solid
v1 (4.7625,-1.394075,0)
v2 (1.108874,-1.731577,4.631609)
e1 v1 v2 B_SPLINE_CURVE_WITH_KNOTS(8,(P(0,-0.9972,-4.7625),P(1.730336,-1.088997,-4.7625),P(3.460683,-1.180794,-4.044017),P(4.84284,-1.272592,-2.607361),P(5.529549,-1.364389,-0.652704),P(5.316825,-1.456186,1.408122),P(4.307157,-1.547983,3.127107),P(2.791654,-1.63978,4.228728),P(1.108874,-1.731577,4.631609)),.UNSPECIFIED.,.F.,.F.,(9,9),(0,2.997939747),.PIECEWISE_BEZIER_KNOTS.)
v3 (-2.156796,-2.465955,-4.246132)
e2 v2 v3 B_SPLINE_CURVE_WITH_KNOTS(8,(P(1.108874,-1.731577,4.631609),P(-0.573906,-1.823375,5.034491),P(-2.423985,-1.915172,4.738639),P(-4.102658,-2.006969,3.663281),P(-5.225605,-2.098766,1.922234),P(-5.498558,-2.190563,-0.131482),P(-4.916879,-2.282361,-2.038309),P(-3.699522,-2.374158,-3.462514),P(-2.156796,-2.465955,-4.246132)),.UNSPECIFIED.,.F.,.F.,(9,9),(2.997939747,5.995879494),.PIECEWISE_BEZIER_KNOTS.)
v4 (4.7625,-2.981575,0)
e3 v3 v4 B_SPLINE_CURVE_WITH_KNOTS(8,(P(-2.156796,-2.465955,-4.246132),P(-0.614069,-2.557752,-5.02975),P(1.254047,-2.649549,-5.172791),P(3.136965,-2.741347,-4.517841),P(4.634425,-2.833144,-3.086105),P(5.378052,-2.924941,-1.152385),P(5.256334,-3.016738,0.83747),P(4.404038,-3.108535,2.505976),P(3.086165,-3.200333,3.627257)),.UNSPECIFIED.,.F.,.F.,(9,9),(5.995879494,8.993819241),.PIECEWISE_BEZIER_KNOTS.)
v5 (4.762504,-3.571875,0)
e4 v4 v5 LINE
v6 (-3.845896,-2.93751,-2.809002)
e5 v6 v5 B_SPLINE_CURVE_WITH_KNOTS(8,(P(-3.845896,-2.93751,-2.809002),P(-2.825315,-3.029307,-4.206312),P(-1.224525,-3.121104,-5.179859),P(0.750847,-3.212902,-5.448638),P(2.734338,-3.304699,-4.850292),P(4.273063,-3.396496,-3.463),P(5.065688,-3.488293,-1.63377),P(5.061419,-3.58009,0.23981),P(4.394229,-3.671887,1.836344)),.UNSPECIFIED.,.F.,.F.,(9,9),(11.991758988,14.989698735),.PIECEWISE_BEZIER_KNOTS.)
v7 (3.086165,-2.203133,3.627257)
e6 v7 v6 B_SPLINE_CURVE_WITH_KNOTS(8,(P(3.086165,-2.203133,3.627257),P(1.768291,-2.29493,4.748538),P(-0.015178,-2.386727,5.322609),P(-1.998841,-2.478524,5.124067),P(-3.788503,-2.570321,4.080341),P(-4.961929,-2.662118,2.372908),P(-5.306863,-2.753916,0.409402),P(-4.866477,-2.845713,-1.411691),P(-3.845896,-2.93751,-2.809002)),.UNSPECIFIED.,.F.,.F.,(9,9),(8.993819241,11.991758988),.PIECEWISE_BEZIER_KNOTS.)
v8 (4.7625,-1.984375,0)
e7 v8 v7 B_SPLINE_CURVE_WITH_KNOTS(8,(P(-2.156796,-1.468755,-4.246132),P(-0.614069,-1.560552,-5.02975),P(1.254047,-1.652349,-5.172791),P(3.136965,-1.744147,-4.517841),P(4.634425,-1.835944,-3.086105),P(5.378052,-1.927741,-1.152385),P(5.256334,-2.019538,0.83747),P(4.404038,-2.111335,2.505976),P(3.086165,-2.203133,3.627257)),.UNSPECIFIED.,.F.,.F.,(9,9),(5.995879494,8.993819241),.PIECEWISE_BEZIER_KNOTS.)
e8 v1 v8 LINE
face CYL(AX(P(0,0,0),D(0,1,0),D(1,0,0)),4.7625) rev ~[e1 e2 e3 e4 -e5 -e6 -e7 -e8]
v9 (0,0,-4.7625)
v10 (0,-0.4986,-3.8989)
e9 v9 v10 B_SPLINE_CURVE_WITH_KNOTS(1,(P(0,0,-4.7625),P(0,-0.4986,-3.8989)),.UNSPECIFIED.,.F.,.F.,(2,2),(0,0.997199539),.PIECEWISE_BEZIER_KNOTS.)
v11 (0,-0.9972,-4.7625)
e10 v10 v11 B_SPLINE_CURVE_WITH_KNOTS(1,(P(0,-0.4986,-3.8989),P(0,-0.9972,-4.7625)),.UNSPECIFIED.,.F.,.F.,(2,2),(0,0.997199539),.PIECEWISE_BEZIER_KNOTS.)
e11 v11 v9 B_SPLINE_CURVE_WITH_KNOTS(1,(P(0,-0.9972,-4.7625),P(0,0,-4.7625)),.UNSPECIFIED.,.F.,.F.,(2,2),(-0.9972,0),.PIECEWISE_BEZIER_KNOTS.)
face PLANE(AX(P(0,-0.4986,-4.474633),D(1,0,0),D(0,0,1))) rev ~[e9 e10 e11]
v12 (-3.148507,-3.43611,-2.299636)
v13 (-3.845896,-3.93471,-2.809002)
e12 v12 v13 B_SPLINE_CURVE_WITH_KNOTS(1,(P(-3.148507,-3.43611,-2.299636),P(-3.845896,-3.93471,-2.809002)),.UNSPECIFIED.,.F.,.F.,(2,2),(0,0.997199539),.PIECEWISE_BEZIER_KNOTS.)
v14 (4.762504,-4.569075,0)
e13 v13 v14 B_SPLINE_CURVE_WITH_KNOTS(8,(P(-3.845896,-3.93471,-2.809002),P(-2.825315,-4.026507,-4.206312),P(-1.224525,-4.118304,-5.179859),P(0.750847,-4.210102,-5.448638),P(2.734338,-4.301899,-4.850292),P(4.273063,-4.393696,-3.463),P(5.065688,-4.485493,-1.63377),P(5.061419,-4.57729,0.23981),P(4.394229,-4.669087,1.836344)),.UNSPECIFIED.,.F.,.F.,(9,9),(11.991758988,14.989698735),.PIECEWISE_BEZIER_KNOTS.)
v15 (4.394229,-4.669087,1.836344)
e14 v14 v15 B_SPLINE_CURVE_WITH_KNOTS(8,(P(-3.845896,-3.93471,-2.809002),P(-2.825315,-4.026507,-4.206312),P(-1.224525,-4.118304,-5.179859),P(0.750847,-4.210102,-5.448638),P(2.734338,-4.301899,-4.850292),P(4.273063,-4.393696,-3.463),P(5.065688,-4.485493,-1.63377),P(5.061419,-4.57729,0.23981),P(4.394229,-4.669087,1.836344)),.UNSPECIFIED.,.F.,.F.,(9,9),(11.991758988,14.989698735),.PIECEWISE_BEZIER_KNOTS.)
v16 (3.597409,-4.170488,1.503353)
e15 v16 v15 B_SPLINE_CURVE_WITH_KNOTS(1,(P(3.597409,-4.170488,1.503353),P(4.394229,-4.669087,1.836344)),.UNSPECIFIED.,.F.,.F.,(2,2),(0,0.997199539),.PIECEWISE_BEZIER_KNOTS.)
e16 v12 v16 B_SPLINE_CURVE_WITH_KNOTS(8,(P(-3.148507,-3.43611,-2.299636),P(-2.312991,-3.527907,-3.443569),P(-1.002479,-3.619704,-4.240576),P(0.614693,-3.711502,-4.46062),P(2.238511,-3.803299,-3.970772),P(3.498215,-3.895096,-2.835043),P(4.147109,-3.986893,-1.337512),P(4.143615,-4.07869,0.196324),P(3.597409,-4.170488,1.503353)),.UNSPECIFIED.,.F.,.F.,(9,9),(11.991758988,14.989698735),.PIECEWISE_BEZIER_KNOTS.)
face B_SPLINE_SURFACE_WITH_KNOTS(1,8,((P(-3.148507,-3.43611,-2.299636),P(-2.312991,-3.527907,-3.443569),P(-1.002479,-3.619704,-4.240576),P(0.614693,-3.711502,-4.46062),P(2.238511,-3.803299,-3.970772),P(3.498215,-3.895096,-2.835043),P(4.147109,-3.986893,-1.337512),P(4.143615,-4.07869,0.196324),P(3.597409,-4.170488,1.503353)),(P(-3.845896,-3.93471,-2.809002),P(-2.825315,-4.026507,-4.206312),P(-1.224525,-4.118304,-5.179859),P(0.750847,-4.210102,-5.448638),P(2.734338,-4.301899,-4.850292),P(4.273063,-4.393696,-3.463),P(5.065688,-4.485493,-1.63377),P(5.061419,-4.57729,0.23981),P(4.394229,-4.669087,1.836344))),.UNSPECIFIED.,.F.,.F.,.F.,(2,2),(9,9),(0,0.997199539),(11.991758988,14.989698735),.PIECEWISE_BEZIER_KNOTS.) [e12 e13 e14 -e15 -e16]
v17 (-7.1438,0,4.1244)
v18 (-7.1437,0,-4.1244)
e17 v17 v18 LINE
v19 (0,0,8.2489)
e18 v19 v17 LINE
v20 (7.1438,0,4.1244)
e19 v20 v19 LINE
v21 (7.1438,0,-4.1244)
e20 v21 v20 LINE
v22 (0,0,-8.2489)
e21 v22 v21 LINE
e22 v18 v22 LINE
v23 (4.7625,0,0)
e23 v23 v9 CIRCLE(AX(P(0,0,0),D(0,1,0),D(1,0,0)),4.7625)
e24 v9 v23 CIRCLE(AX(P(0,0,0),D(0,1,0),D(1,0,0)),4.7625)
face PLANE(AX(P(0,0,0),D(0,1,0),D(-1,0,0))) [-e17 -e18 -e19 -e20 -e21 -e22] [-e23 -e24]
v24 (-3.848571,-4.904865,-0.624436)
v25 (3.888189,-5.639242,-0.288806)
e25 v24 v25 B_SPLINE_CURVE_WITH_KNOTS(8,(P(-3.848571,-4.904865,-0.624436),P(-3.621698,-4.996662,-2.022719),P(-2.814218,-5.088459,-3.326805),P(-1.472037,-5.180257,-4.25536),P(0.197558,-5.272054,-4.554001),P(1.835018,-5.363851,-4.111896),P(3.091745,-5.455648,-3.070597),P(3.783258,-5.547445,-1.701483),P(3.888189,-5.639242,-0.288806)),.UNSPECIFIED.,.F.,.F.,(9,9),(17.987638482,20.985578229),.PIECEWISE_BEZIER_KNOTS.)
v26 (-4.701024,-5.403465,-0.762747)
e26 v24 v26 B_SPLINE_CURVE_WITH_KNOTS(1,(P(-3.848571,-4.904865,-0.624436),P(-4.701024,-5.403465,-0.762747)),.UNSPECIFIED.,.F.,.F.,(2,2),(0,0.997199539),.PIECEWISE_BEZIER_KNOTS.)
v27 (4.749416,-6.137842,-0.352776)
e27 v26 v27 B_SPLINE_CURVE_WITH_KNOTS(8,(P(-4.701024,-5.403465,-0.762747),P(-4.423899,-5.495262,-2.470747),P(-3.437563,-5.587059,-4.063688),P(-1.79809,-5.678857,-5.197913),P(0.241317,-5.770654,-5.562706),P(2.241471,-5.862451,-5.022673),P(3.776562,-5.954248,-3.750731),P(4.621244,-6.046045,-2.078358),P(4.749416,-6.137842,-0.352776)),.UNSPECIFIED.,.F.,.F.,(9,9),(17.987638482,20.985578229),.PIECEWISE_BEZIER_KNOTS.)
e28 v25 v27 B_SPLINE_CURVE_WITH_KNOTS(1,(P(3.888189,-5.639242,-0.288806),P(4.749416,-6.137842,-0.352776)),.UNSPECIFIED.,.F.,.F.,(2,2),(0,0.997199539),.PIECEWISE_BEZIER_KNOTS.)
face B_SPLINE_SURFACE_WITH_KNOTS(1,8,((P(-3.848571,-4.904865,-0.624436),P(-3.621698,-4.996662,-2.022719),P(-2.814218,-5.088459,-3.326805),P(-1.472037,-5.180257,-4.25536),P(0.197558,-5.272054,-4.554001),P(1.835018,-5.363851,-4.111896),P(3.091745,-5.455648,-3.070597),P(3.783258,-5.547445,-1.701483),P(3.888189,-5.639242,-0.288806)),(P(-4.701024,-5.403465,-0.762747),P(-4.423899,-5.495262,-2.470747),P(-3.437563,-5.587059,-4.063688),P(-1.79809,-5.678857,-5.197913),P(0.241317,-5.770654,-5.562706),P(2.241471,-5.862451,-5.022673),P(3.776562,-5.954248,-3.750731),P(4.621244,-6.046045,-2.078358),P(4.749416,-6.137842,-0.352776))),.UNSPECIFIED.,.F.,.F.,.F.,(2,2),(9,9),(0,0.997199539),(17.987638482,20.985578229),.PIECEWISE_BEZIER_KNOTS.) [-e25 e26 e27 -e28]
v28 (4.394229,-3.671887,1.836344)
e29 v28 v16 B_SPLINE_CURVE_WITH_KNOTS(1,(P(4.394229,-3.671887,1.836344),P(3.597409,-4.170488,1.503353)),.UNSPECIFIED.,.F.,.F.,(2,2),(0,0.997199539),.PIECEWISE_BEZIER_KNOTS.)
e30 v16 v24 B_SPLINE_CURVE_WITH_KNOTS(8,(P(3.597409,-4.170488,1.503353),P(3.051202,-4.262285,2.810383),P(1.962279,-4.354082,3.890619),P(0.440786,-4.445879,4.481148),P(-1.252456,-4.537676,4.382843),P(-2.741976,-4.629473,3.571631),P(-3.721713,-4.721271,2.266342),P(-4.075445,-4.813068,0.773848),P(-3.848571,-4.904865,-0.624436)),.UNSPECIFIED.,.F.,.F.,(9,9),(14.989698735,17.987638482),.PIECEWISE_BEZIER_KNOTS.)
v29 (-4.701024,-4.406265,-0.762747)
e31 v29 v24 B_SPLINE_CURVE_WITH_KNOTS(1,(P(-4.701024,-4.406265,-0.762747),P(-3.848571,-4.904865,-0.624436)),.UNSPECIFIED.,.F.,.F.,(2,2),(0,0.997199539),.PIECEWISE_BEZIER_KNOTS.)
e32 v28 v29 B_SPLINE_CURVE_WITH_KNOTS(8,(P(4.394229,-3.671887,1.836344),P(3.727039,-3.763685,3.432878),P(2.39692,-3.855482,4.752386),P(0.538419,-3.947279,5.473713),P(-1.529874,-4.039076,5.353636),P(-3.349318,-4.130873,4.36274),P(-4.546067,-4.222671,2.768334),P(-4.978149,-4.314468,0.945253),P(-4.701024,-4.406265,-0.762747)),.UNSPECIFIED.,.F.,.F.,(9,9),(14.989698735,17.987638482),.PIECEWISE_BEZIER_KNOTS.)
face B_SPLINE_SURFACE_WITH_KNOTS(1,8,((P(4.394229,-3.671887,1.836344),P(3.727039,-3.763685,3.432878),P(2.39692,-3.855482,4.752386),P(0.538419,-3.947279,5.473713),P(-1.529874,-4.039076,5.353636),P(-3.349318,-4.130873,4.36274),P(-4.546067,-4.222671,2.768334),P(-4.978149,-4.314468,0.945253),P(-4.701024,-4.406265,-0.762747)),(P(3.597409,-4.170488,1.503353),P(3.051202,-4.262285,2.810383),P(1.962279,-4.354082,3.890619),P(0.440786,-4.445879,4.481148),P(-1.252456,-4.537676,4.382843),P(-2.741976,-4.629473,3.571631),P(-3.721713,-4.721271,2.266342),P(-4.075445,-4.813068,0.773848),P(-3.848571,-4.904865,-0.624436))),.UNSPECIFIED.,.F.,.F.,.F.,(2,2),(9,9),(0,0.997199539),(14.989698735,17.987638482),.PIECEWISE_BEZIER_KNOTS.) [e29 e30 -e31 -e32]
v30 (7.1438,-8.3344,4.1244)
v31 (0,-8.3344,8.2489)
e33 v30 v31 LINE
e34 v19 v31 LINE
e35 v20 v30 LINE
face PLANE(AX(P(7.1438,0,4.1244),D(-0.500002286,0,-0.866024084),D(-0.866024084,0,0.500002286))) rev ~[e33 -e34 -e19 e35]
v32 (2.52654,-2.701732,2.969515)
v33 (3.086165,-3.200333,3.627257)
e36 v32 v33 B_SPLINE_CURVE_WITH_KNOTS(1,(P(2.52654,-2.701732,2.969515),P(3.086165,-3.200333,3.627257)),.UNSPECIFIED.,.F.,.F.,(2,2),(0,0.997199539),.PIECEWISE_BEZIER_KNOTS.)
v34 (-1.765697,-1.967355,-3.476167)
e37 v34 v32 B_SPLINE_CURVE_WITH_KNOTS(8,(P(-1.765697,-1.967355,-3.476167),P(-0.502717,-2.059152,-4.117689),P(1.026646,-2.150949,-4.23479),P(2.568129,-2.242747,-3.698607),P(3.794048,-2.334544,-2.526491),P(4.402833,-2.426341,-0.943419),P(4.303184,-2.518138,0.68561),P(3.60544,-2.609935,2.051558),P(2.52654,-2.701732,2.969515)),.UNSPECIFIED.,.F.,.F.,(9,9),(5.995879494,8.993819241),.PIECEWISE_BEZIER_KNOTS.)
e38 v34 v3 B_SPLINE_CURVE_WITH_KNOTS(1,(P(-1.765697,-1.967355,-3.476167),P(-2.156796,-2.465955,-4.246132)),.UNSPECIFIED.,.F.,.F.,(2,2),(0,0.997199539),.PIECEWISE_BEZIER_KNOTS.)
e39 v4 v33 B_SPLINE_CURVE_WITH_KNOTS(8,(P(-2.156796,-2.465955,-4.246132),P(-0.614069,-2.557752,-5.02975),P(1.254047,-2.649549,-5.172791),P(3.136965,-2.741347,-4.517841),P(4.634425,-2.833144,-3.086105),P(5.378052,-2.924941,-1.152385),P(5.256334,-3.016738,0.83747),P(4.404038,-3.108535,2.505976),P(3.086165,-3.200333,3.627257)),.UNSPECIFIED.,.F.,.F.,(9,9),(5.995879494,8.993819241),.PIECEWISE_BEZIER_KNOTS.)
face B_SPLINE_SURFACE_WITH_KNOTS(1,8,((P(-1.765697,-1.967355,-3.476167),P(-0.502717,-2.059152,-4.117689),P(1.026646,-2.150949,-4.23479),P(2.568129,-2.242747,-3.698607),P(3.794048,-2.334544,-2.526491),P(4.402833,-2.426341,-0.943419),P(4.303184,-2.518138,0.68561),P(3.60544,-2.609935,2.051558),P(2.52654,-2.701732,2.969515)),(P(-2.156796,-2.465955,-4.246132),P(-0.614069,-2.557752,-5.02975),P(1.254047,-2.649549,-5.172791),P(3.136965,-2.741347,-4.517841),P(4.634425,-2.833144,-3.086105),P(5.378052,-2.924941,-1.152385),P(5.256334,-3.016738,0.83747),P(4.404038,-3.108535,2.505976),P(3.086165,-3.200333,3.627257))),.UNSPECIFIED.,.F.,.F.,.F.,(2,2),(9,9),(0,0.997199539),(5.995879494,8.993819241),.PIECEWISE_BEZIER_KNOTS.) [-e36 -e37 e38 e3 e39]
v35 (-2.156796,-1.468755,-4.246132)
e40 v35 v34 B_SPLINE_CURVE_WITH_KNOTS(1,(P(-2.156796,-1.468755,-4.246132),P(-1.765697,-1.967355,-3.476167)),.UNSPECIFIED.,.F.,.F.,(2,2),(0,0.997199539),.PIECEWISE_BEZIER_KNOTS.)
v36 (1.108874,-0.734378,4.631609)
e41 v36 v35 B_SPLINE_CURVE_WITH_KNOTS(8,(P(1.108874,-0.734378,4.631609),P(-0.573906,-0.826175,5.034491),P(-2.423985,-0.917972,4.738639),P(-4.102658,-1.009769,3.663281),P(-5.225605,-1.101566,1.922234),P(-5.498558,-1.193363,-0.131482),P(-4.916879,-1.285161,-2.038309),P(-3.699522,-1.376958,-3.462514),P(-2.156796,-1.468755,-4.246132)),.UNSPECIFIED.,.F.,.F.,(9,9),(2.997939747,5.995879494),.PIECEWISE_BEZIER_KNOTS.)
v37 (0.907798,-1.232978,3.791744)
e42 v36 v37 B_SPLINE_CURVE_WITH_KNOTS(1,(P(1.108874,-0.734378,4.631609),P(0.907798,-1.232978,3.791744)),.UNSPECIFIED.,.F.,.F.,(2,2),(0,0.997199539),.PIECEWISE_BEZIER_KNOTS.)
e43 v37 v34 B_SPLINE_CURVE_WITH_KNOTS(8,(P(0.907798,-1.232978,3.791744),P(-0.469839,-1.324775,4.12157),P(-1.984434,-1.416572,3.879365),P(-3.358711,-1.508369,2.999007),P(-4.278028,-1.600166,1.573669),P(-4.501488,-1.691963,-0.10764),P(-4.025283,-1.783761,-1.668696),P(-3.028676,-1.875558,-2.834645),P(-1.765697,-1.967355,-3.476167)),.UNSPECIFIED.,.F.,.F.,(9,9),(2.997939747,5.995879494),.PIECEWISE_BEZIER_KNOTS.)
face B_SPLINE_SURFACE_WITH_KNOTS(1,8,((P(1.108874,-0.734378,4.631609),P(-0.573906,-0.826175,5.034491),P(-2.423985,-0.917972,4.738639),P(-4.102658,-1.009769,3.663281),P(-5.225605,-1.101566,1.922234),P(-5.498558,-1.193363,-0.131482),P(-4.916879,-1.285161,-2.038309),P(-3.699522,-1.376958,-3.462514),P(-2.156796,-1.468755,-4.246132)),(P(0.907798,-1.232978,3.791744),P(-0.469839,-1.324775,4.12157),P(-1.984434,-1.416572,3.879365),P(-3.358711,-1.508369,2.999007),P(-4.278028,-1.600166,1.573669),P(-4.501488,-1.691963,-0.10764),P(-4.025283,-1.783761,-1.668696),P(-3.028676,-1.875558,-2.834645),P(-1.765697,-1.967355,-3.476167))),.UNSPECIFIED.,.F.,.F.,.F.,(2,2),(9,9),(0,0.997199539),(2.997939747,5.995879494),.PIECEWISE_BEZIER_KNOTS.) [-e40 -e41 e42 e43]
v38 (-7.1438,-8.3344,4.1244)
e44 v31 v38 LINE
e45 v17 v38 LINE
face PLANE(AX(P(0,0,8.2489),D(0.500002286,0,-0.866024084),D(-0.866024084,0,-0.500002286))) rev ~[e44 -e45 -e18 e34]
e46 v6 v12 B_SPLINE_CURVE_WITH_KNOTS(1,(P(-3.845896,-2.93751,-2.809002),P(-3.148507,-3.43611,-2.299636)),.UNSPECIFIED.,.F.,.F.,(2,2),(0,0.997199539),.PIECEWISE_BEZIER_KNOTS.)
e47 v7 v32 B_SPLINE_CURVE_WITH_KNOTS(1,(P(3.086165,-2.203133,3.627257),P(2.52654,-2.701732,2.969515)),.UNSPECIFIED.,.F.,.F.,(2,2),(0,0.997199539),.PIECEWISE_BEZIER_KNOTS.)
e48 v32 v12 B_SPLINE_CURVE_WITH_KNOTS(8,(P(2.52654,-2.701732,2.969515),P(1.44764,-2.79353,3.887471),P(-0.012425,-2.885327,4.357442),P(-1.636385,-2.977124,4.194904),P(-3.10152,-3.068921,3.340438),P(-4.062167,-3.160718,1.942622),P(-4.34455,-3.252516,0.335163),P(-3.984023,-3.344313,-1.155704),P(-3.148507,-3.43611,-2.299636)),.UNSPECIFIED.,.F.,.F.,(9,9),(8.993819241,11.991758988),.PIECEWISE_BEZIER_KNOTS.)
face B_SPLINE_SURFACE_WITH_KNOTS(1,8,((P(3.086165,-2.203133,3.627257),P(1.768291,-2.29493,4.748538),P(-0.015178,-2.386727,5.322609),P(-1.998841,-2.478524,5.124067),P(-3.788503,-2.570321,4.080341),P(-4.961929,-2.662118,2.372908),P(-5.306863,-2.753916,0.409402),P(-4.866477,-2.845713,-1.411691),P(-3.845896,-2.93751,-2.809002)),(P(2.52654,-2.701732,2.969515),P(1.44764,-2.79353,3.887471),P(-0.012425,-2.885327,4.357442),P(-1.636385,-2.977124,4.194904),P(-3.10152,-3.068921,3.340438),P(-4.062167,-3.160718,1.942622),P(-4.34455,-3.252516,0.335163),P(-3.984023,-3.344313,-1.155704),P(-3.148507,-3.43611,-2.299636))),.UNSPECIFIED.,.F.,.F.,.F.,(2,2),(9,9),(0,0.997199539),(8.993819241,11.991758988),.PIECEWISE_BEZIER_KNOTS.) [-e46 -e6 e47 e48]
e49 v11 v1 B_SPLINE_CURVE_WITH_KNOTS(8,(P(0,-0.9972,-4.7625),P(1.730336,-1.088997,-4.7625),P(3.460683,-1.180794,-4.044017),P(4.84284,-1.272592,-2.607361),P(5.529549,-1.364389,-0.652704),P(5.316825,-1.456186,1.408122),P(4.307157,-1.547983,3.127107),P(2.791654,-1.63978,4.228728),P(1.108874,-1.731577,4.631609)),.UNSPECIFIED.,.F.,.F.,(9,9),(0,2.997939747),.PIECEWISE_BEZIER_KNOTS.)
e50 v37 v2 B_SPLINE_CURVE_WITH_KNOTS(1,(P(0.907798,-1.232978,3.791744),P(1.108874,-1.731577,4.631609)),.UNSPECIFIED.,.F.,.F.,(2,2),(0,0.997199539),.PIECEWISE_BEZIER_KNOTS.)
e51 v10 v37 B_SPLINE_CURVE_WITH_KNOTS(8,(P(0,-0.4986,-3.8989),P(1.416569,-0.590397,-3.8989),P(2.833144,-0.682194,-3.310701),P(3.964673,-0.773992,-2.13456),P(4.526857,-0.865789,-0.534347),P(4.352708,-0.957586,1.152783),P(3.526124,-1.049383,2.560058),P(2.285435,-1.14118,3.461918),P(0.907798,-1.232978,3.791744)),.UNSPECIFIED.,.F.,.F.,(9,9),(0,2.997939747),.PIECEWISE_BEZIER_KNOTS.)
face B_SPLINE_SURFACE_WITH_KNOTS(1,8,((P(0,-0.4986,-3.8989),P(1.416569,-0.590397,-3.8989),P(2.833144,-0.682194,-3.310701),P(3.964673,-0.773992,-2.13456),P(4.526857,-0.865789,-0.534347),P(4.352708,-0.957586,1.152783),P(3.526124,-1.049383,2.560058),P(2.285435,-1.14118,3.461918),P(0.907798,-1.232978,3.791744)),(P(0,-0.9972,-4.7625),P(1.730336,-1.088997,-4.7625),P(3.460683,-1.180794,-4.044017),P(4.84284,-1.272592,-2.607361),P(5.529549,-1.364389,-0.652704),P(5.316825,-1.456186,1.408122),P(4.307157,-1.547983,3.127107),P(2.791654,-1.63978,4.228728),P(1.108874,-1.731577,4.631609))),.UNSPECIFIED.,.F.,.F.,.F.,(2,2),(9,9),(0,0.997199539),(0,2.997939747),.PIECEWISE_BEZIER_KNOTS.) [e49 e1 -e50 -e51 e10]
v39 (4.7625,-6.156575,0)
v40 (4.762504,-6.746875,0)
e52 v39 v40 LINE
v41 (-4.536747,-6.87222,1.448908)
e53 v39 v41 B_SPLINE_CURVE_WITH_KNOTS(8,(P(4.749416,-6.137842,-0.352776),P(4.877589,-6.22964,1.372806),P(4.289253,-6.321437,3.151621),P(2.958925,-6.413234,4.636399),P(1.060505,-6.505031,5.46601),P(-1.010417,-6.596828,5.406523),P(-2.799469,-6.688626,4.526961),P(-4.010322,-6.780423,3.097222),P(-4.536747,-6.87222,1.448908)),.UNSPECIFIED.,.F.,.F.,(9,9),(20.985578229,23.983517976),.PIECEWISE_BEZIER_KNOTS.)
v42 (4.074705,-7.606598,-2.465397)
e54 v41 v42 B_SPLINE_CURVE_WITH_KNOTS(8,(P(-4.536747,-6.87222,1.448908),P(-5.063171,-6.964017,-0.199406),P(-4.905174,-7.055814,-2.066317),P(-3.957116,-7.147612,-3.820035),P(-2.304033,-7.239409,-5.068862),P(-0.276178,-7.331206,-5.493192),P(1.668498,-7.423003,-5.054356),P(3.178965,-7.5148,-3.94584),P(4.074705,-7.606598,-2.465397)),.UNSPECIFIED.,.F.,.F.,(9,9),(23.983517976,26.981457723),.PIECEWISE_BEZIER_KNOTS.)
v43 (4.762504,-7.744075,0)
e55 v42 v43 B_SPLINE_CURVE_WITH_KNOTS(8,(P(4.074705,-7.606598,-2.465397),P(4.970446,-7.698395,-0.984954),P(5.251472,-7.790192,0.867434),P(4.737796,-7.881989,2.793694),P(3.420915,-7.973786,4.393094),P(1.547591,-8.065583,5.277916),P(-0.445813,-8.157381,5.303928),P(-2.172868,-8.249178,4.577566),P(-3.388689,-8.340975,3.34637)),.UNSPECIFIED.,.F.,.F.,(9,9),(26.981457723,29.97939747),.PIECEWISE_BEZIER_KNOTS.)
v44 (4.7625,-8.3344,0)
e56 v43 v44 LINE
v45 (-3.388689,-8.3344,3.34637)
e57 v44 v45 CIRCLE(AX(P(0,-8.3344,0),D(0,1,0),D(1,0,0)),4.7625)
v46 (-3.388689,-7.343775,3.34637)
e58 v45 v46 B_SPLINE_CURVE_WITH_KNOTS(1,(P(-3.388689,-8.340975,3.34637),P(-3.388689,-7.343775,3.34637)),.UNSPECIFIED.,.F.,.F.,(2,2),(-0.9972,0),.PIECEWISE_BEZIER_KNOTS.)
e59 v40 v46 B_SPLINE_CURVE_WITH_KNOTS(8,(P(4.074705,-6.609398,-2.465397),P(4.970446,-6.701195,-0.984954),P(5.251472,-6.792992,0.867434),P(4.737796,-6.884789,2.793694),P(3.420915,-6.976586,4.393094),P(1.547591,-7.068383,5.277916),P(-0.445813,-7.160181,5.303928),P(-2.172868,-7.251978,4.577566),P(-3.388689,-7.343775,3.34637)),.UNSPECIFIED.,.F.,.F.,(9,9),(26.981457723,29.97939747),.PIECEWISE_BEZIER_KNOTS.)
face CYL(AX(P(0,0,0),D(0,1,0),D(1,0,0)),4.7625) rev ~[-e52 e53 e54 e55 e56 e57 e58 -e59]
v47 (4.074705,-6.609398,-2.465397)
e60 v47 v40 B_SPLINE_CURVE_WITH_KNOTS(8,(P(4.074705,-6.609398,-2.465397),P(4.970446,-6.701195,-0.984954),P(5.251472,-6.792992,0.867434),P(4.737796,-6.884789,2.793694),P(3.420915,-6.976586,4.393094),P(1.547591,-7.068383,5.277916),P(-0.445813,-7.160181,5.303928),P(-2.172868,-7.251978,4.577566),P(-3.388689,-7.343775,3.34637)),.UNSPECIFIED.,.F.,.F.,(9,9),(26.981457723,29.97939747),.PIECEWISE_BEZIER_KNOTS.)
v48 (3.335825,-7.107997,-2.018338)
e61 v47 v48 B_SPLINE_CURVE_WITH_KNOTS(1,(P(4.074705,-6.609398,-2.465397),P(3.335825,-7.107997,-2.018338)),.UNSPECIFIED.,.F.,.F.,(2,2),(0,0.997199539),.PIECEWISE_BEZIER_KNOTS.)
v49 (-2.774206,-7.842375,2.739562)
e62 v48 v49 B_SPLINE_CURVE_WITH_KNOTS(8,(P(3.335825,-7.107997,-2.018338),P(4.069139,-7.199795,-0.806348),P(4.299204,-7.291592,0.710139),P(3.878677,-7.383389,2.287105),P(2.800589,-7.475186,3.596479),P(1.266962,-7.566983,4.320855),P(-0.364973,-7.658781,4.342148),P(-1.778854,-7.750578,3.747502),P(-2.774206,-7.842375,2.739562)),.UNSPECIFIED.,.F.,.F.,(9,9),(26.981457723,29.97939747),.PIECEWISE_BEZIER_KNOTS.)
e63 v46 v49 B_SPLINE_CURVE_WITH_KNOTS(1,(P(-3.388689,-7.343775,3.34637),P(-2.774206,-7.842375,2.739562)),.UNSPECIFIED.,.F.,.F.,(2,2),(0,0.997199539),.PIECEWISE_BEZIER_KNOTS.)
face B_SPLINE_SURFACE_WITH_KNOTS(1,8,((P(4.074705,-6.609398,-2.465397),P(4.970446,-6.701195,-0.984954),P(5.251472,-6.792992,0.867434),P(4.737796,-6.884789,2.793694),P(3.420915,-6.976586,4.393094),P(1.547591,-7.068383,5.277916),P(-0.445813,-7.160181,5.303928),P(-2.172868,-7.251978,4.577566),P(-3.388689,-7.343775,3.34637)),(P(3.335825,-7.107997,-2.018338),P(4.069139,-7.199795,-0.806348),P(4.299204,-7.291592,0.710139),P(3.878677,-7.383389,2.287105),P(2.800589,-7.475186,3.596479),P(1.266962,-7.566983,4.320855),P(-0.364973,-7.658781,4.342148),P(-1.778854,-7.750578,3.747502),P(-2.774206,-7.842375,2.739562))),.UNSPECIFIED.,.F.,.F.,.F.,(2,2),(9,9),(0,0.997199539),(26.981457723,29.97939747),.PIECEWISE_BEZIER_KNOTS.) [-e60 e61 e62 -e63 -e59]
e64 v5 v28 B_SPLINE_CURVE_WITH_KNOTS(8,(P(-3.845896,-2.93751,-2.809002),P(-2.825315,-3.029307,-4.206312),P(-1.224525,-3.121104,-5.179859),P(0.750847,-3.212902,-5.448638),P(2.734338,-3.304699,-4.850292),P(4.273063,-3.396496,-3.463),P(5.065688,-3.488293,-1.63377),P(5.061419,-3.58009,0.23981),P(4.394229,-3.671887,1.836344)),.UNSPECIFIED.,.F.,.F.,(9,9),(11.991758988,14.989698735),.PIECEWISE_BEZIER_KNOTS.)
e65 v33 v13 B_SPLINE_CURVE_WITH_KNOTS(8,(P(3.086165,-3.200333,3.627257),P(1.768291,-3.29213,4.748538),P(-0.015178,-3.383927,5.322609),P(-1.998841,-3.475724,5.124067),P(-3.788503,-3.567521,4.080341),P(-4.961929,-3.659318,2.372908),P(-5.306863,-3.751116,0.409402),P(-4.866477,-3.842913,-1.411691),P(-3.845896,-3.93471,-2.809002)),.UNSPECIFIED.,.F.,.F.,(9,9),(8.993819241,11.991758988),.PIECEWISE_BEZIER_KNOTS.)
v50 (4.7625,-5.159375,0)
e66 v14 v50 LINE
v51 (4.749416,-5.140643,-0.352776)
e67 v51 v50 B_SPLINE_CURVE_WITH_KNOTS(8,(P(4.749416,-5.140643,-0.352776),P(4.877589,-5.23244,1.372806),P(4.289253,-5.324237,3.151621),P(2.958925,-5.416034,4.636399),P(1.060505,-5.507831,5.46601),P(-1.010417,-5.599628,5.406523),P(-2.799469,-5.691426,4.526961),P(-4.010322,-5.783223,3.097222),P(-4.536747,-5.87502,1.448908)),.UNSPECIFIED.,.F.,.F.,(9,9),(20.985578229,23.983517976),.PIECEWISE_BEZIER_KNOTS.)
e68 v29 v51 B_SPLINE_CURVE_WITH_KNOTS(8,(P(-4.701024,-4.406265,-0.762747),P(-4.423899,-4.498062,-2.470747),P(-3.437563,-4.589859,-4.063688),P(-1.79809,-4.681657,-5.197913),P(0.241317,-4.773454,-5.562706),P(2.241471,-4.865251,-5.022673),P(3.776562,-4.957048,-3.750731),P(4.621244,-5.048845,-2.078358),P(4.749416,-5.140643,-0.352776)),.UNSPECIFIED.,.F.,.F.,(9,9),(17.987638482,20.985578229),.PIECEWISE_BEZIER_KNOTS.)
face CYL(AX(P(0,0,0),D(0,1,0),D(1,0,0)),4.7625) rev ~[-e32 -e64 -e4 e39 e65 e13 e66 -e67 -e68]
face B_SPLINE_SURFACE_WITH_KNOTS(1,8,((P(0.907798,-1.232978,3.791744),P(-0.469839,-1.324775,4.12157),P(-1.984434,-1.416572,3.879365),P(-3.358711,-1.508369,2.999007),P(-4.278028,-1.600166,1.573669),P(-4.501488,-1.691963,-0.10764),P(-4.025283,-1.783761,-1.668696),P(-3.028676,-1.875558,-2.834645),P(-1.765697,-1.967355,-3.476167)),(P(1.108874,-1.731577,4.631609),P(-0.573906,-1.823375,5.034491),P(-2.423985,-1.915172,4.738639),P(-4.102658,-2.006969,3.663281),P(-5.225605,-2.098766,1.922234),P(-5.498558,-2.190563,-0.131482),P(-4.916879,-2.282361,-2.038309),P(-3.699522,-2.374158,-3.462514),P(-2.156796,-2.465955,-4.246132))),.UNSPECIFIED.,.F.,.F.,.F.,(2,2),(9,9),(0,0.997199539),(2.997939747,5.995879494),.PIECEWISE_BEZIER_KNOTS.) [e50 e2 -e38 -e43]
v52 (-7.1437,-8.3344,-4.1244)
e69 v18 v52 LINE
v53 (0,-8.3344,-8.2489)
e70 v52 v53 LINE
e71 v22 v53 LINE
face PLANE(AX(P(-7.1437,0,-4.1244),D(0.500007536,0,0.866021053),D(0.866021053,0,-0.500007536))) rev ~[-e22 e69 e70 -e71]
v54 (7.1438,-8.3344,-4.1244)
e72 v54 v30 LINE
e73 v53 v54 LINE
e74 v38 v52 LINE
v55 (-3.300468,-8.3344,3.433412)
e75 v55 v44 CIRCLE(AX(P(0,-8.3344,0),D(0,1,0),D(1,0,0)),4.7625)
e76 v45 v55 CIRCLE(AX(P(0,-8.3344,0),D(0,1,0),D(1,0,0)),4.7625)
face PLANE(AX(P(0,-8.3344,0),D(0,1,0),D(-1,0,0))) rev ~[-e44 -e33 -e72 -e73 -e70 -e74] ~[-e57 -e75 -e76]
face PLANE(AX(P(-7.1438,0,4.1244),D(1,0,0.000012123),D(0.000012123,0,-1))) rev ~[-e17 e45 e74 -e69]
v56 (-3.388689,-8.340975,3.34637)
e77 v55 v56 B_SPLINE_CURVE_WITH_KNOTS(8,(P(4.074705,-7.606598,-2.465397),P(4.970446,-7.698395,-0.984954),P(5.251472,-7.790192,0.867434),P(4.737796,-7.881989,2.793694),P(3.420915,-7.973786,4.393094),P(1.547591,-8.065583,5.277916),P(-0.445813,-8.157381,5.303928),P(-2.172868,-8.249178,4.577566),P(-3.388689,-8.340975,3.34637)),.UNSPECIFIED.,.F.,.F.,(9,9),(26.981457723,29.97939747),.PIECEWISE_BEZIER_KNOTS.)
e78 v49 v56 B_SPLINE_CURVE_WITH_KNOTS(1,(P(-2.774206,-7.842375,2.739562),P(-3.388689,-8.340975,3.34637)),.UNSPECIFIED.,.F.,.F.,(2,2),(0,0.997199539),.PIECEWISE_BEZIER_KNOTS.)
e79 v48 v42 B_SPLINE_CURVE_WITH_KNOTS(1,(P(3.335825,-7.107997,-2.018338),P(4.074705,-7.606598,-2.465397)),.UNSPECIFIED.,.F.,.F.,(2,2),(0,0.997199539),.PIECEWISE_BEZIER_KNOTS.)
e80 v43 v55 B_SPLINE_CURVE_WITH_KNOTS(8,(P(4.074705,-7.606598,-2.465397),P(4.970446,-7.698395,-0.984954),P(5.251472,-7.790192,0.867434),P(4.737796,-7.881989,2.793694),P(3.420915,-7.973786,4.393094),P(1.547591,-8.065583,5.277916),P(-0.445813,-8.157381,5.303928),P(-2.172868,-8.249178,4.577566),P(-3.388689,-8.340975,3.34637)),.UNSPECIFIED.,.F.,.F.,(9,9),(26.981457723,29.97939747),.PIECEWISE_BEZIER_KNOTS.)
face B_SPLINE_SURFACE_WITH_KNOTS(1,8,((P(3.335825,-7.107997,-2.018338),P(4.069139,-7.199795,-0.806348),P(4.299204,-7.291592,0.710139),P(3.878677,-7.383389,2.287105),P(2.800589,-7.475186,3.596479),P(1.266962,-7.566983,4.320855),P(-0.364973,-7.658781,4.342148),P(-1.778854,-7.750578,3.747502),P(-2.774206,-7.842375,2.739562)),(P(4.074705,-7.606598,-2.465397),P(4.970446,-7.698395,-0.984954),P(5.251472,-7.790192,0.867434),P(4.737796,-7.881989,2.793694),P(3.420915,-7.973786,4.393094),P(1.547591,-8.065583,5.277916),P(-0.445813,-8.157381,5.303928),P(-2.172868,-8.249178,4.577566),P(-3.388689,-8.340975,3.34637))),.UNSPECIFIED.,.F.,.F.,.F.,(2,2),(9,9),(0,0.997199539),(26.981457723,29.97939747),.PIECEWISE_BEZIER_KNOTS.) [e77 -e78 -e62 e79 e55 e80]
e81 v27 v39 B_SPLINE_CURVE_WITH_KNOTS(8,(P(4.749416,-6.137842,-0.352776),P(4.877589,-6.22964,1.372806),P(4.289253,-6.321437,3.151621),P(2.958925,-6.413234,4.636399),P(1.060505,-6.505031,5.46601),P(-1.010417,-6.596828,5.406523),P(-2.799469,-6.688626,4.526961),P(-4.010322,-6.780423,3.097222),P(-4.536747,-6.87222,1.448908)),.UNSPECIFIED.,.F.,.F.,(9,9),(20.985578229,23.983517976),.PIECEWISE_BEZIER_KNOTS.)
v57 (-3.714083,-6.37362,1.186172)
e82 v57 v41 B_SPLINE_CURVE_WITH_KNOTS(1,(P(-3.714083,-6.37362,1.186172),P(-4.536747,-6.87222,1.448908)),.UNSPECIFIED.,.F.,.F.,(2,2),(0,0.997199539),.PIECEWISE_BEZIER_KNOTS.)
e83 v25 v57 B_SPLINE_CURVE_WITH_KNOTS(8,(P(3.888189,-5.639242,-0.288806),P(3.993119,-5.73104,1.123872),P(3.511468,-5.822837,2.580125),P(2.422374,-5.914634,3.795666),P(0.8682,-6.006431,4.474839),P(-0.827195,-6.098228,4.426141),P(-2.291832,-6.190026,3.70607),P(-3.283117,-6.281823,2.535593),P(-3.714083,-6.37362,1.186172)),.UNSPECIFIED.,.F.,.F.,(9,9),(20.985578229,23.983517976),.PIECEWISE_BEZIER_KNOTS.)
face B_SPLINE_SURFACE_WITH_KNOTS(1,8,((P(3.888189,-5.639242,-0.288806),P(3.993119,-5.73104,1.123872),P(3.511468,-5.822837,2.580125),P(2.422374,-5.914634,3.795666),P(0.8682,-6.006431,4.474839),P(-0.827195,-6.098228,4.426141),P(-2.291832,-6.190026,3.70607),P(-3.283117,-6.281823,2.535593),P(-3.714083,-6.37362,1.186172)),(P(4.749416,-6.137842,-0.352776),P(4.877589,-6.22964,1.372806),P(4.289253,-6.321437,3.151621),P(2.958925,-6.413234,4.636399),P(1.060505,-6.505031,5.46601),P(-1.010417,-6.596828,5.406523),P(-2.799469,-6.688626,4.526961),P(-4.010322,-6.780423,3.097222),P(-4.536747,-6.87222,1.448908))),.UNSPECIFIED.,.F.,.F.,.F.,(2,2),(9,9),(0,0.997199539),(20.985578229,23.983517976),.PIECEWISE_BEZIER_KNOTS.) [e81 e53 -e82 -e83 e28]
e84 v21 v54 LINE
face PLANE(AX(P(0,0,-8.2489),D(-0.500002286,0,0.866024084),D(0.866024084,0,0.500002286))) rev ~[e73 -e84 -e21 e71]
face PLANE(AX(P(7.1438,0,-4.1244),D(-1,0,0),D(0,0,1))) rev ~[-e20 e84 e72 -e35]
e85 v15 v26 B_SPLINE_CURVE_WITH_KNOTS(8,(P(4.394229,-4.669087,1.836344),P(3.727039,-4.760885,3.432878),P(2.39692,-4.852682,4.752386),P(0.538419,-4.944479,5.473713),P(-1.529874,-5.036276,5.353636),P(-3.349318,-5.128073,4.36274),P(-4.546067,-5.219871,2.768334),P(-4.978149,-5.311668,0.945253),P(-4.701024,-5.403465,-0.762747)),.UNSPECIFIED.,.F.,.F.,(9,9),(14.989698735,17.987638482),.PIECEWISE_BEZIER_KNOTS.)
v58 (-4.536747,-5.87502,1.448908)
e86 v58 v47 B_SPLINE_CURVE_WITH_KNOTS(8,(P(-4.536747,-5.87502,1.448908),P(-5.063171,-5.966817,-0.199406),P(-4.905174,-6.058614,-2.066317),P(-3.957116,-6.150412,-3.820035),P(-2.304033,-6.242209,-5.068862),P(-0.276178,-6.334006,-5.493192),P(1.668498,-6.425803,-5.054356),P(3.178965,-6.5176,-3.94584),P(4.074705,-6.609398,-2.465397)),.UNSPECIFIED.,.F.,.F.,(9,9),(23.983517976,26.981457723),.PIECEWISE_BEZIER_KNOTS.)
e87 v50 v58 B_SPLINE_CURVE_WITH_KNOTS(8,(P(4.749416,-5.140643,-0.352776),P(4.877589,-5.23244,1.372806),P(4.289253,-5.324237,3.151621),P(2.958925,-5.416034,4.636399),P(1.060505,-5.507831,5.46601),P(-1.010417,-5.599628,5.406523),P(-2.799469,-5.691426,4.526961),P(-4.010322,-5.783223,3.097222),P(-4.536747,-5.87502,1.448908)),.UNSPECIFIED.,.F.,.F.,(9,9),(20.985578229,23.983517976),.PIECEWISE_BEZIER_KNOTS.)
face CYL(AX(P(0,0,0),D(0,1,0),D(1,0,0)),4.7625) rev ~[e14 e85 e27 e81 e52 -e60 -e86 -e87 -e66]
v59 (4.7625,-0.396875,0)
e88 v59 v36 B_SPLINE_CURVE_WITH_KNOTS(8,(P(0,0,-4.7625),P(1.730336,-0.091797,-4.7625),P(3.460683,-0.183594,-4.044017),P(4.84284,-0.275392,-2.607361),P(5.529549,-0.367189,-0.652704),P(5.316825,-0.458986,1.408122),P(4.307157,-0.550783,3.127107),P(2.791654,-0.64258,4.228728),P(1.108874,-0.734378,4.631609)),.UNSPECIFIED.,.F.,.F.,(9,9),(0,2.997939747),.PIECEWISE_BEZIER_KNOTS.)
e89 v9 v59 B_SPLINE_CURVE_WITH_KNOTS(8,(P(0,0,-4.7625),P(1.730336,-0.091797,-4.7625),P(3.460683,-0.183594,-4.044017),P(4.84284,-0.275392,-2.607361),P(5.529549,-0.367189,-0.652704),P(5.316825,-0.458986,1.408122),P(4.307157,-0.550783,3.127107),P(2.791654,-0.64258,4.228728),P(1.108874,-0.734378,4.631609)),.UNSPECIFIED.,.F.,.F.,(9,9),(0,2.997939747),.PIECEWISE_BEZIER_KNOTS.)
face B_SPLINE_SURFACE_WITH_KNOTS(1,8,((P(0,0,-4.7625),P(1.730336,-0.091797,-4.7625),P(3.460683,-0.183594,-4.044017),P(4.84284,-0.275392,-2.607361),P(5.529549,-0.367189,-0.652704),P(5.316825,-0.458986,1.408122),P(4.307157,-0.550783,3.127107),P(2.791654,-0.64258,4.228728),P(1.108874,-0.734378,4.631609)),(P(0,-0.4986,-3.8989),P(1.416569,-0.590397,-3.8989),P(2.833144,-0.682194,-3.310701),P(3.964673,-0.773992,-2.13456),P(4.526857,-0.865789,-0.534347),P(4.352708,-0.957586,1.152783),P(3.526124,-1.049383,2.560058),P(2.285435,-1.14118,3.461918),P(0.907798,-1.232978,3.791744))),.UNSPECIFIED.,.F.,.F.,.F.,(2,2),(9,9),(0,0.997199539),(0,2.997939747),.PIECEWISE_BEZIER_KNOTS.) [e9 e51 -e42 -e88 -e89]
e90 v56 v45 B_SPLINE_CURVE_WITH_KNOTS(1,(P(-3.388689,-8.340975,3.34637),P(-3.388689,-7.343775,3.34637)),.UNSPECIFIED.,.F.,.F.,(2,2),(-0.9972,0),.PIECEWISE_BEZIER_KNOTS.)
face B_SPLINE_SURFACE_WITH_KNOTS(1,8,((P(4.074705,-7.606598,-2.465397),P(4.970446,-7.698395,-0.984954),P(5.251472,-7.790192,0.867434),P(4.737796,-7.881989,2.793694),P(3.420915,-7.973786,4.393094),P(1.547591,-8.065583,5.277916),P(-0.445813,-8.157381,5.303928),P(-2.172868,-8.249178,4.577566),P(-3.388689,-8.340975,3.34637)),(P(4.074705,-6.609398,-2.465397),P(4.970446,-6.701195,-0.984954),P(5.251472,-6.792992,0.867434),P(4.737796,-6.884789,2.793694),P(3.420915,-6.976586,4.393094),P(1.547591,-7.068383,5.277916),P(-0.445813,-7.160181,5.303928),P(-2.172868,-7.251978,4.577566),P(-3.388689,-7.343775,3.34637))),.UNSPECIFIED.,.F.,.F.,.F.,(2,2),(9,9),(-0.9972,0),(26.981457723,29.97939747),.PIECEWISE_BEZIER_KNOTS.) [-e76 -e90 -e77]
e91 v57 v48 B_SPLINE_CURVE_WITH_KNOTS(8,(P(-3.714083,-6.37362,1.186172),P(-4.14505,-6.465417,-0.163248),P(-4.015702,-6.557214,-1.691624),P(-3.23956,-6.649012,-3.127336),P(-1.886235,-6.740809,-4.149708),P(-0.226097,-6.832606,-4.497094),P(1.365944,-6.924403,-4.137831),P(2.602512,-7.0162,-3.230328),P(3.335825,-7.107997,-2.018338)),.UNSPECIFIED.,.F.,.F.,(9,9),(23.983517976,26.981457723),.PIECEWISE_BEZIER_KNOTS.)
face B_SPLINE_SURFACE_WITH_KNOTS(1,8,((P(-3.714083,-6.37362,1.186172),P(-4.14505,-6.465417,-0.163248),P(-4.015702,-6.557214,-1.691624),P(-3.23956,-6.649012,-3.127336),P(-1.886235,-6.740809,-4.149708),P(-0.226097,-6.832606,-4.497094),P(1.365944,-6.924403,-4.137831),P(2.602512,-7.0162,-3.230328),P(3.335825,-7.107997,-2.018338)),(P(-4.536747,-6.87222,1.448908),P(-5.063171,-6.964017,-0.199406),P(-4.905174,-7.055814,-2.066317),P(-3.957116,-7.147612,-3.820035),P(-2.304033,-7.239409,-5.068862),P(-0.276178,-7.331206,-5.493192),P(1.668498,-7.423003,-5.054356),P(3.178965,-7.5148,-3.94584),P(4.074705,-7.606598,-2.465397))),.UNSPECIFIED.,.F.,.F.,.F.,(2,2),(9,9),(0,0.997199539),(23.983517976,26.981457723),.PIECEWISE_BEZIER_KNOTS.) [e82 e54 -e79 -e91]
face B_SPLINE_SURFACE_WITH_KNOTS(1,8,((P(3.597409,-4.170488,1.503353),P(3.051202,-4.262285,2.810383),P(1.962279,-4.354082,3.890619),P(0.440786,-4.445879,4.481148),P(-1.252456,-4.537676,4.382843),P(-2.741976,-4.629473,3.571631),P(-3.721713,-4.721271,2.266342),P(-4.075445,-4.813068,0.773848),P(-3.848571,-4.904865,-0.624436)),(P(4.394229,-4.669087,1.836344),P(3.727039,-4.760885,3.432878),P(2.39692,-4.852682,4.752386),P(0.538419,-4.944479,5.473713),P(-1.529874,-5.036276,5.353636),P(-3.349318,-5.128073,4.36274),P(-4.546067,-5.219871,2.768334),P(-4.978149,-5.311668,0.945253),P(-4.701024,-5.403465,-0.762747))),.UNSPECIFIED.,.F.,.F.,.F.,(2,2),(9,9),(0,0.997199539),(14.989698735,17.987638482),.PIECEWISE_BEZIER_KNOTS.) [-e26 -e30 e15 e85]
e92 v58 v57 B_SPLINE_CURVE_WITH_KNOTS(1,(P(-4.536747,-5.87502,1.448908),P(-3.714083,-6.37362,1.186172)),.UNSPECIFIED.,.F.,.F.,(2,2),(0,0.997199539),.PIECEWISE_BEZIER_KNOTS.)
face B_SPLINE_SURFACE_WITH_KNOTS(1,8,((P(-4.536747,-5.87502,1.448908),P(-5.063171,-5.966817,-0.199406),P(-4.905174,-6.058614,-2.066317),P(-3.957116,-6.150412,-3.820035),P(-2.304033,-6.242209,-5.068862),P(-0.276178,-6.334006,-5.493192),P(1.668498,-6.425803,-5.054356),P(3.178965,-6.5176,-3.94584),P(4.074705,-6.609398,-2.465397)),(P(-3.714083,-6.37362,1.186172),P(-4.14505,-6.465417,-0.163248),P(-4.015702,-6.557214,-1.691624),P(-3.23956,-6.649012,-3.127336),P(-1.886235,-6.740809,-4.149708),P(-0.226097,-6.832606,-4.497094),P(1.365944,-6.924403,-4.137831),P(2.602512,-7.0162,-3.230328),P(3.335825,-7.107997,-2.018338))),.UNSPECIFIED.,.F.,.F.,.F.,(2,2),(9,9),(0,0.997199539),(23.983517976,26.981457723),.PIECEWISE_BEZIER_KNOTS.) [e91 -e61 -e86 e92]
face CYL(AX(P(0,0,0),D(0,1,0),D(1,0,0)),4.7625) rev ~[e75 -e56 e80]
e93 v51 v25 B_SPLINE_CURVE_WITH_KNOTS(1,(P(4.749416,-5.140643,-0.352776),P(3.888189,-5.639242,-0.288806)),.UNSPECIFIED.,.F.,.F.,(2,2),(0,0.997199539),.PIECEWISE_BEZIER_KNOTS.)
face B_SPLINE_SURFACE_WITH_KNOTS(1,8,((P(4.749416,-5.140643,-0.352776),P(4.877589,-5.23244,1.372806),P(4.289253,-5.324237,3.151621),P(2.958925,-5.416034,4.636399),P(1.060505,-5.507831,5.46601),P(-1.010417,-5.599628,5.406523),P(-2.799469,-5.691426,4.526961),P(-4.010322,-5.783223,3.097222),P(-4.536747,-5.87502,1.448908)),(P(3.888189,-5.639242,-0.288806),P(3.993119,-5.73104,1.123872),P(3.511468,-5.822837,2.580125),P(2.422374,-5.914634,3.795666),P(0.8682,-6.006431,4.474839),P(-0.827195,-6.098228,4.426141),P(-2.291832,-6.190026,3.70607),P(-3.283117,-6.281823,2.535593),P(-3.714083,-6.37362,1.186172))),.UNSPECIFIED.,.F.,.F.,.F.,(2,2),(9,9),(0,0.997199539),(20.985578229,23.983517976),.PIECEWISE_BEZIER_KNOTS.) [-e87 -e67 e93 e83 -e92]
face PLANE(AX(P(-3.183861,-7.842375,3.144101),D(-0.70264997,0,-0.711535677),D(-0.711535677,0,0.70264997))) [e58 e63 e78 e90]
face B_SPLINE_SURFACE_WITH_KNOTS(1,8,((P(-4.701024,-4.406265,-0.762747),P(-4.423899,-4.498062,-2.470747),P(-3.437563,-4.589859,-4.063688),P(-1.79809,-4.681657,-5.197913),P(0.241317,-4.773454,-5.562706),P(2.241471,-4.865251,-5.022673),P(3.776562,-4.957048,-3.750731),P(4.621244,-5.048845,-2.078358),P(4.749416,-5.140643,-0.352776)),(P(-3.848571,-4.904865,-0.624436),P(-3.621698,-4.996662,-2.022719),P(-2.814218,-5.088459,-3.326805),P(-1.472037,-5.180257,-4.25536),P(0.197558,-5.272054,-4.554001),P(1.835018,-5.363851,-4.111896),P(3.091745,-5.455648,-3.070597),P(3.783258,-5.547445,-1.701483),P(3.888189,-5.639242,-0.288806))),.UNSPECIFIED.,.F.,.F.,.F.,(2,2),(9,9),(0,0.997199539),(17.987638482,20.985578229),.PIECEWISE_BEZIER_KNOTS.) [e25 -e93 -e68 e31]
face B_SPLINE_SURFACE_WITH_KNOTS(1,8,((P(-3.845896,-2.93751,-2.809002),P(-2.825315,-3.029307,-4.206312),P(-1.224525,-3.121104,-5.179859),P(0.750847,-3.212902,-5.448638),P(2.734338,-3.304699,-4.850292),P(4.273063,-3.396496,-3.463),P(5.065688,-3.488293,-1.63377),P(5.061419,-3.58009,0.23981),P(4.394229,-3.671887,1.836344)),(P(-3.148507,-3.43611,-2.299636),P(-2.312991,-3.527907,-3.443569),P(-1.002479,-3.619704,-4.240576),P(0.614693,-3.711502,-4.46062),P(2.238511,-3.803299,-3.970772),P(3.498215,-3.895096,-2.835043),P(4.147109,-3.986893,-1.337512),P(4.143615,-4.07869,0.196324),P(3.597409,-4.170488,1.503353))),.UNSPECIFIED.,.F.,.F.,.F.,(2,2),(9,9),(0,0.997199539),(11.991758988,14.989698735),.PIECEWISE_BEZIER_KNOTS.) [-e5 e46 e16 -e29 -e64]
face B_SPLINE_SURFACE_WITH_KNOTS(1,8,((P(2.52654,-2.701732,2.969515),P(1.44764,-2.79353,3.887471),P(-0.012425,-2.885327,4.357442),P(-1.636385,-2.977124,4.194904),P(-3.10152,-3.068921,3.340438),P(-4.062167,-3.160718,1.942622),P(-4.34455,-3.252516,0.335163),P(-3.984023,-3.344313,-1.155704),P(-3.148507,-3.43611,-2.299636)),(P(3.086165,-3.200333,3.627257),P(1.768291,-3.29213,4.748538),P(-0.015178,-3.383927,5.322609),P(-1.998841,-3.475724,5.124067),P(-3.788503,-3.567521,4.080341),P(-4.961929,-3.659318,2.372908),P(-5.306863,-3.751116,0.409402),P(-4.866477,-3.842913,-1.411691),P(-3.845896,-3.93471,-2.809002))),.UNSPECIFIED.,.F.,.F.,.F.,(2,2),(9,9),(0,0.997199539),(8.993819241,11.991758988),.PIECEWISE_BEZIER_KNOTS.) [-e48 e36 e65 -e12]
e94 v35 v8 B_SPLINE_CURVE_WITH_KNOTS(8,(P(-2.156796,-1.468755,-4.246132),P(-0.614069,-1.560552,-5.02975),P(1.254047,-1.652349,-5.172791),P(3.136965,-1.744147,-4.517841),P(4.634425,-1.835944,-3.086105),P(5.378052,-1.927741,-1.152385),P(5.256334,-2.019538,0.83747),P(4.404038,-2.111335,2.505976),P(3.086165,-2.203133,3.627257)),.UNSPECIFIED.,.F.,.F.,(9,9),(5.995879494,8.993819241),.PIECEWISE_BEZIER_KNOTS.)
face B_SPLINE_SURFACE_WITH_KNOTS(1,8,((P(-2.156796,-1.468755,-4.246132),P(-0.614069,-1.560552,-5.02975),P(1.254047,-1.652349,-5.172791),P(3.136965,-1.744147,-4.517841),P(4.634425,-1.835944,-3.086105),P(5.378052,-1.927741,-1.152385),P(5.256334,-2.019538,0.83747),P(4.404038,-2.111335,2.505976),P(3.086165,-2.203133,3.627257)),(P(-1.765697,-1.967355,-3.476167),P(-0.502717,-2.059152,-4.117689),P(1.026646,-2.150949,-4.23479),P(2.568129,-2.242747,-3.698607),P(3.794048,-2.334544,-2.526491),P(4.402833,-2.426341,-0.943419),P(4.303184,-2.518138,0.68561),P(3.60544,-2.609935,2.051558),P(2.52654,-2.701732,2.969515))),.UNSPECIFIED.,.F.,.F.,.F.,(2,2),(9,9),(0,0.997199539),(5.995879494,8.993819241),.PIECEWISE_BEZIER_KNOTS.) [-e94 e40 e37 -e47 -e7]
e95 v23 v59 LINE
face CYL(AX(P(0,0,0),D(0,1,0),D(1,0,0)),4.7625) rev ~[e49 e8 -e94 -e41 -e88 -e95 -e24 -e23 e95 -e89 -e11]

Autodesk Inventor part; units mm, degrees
ref_plane "YZ Plane" through (0, 0, 0) normal (1, 0, 0) x (0, 1, 0)
ref_plane "XZ Plane" through (0, 0, 0) normal (0, 1, 0) x (-1, 0, 0)
ref_plane "XY Plane" through (0, 0, 0) normal (0, 0, 1) x (1, 0, 0)
sketch "Sketch1" plane through (0, 0, 0) normal (0, 1, 0) x (-1, 0, 0)
  line L0 (-7.1438, -4.1244) -> (-7.1438, 4.1244)
  line L1 (-7.1438, 4.1244) -> (0, 8.2489)
  line L2 (0, 8.2489) -> (7.1438, 4.1244)
  line L3 (7.1438, 4.1244) -> (7.1437, -4.1244)
  line L4 (7.1437, -4.1244) -> (0, -8.2489)
  line L5 (0, -8.2489) -> (-7.1438, -4.1244)
  point P0 (0, 0)
  point P1 (0, 0)
  dimension "d0" = 14.2875
extrude "Extrusion1" add sketch "Sketch1" against normal blind 8.3344
sketch "Sketch2" plane through (0, 0, 0) normal (0, 1, 0) x (1, 0, 0)
  circle A0 centre (0, 0) radius 4.7625
  dimension "d3" = 9.525
extrude "Extrusion2" cut sketch "Sketch2" against normal through all
sketch "Sketch3" plane through (0, 0, 0) normal (1, 0, 0) x (0, 1, 0)
  line L0 (0, -4.7625) -> (-8.3344, -4.7625) projected
  line L1 (0, 4.7625) -> (0, -4.7625) projected
  line L2 (-10.188, 0) -> (2.7876, 0) projected
  line L3 (0, -4.7625) -> (-0.4986, -3.8989)
  line L4 (-0.4986, -3.8989) -> (-0.9972, -4.7625)
  point P0 (0, 0)
  dimension "d18" = 60
  dimension "d19" = 3.8989
  dimension "d20" = 30
coil "Coil2" sketch "Sketch3" operation add axis through (0, -10, 0) along (0, -1, 0) pitch 1.5875 turns 4.626 hand right
properties part number "boltExample"
